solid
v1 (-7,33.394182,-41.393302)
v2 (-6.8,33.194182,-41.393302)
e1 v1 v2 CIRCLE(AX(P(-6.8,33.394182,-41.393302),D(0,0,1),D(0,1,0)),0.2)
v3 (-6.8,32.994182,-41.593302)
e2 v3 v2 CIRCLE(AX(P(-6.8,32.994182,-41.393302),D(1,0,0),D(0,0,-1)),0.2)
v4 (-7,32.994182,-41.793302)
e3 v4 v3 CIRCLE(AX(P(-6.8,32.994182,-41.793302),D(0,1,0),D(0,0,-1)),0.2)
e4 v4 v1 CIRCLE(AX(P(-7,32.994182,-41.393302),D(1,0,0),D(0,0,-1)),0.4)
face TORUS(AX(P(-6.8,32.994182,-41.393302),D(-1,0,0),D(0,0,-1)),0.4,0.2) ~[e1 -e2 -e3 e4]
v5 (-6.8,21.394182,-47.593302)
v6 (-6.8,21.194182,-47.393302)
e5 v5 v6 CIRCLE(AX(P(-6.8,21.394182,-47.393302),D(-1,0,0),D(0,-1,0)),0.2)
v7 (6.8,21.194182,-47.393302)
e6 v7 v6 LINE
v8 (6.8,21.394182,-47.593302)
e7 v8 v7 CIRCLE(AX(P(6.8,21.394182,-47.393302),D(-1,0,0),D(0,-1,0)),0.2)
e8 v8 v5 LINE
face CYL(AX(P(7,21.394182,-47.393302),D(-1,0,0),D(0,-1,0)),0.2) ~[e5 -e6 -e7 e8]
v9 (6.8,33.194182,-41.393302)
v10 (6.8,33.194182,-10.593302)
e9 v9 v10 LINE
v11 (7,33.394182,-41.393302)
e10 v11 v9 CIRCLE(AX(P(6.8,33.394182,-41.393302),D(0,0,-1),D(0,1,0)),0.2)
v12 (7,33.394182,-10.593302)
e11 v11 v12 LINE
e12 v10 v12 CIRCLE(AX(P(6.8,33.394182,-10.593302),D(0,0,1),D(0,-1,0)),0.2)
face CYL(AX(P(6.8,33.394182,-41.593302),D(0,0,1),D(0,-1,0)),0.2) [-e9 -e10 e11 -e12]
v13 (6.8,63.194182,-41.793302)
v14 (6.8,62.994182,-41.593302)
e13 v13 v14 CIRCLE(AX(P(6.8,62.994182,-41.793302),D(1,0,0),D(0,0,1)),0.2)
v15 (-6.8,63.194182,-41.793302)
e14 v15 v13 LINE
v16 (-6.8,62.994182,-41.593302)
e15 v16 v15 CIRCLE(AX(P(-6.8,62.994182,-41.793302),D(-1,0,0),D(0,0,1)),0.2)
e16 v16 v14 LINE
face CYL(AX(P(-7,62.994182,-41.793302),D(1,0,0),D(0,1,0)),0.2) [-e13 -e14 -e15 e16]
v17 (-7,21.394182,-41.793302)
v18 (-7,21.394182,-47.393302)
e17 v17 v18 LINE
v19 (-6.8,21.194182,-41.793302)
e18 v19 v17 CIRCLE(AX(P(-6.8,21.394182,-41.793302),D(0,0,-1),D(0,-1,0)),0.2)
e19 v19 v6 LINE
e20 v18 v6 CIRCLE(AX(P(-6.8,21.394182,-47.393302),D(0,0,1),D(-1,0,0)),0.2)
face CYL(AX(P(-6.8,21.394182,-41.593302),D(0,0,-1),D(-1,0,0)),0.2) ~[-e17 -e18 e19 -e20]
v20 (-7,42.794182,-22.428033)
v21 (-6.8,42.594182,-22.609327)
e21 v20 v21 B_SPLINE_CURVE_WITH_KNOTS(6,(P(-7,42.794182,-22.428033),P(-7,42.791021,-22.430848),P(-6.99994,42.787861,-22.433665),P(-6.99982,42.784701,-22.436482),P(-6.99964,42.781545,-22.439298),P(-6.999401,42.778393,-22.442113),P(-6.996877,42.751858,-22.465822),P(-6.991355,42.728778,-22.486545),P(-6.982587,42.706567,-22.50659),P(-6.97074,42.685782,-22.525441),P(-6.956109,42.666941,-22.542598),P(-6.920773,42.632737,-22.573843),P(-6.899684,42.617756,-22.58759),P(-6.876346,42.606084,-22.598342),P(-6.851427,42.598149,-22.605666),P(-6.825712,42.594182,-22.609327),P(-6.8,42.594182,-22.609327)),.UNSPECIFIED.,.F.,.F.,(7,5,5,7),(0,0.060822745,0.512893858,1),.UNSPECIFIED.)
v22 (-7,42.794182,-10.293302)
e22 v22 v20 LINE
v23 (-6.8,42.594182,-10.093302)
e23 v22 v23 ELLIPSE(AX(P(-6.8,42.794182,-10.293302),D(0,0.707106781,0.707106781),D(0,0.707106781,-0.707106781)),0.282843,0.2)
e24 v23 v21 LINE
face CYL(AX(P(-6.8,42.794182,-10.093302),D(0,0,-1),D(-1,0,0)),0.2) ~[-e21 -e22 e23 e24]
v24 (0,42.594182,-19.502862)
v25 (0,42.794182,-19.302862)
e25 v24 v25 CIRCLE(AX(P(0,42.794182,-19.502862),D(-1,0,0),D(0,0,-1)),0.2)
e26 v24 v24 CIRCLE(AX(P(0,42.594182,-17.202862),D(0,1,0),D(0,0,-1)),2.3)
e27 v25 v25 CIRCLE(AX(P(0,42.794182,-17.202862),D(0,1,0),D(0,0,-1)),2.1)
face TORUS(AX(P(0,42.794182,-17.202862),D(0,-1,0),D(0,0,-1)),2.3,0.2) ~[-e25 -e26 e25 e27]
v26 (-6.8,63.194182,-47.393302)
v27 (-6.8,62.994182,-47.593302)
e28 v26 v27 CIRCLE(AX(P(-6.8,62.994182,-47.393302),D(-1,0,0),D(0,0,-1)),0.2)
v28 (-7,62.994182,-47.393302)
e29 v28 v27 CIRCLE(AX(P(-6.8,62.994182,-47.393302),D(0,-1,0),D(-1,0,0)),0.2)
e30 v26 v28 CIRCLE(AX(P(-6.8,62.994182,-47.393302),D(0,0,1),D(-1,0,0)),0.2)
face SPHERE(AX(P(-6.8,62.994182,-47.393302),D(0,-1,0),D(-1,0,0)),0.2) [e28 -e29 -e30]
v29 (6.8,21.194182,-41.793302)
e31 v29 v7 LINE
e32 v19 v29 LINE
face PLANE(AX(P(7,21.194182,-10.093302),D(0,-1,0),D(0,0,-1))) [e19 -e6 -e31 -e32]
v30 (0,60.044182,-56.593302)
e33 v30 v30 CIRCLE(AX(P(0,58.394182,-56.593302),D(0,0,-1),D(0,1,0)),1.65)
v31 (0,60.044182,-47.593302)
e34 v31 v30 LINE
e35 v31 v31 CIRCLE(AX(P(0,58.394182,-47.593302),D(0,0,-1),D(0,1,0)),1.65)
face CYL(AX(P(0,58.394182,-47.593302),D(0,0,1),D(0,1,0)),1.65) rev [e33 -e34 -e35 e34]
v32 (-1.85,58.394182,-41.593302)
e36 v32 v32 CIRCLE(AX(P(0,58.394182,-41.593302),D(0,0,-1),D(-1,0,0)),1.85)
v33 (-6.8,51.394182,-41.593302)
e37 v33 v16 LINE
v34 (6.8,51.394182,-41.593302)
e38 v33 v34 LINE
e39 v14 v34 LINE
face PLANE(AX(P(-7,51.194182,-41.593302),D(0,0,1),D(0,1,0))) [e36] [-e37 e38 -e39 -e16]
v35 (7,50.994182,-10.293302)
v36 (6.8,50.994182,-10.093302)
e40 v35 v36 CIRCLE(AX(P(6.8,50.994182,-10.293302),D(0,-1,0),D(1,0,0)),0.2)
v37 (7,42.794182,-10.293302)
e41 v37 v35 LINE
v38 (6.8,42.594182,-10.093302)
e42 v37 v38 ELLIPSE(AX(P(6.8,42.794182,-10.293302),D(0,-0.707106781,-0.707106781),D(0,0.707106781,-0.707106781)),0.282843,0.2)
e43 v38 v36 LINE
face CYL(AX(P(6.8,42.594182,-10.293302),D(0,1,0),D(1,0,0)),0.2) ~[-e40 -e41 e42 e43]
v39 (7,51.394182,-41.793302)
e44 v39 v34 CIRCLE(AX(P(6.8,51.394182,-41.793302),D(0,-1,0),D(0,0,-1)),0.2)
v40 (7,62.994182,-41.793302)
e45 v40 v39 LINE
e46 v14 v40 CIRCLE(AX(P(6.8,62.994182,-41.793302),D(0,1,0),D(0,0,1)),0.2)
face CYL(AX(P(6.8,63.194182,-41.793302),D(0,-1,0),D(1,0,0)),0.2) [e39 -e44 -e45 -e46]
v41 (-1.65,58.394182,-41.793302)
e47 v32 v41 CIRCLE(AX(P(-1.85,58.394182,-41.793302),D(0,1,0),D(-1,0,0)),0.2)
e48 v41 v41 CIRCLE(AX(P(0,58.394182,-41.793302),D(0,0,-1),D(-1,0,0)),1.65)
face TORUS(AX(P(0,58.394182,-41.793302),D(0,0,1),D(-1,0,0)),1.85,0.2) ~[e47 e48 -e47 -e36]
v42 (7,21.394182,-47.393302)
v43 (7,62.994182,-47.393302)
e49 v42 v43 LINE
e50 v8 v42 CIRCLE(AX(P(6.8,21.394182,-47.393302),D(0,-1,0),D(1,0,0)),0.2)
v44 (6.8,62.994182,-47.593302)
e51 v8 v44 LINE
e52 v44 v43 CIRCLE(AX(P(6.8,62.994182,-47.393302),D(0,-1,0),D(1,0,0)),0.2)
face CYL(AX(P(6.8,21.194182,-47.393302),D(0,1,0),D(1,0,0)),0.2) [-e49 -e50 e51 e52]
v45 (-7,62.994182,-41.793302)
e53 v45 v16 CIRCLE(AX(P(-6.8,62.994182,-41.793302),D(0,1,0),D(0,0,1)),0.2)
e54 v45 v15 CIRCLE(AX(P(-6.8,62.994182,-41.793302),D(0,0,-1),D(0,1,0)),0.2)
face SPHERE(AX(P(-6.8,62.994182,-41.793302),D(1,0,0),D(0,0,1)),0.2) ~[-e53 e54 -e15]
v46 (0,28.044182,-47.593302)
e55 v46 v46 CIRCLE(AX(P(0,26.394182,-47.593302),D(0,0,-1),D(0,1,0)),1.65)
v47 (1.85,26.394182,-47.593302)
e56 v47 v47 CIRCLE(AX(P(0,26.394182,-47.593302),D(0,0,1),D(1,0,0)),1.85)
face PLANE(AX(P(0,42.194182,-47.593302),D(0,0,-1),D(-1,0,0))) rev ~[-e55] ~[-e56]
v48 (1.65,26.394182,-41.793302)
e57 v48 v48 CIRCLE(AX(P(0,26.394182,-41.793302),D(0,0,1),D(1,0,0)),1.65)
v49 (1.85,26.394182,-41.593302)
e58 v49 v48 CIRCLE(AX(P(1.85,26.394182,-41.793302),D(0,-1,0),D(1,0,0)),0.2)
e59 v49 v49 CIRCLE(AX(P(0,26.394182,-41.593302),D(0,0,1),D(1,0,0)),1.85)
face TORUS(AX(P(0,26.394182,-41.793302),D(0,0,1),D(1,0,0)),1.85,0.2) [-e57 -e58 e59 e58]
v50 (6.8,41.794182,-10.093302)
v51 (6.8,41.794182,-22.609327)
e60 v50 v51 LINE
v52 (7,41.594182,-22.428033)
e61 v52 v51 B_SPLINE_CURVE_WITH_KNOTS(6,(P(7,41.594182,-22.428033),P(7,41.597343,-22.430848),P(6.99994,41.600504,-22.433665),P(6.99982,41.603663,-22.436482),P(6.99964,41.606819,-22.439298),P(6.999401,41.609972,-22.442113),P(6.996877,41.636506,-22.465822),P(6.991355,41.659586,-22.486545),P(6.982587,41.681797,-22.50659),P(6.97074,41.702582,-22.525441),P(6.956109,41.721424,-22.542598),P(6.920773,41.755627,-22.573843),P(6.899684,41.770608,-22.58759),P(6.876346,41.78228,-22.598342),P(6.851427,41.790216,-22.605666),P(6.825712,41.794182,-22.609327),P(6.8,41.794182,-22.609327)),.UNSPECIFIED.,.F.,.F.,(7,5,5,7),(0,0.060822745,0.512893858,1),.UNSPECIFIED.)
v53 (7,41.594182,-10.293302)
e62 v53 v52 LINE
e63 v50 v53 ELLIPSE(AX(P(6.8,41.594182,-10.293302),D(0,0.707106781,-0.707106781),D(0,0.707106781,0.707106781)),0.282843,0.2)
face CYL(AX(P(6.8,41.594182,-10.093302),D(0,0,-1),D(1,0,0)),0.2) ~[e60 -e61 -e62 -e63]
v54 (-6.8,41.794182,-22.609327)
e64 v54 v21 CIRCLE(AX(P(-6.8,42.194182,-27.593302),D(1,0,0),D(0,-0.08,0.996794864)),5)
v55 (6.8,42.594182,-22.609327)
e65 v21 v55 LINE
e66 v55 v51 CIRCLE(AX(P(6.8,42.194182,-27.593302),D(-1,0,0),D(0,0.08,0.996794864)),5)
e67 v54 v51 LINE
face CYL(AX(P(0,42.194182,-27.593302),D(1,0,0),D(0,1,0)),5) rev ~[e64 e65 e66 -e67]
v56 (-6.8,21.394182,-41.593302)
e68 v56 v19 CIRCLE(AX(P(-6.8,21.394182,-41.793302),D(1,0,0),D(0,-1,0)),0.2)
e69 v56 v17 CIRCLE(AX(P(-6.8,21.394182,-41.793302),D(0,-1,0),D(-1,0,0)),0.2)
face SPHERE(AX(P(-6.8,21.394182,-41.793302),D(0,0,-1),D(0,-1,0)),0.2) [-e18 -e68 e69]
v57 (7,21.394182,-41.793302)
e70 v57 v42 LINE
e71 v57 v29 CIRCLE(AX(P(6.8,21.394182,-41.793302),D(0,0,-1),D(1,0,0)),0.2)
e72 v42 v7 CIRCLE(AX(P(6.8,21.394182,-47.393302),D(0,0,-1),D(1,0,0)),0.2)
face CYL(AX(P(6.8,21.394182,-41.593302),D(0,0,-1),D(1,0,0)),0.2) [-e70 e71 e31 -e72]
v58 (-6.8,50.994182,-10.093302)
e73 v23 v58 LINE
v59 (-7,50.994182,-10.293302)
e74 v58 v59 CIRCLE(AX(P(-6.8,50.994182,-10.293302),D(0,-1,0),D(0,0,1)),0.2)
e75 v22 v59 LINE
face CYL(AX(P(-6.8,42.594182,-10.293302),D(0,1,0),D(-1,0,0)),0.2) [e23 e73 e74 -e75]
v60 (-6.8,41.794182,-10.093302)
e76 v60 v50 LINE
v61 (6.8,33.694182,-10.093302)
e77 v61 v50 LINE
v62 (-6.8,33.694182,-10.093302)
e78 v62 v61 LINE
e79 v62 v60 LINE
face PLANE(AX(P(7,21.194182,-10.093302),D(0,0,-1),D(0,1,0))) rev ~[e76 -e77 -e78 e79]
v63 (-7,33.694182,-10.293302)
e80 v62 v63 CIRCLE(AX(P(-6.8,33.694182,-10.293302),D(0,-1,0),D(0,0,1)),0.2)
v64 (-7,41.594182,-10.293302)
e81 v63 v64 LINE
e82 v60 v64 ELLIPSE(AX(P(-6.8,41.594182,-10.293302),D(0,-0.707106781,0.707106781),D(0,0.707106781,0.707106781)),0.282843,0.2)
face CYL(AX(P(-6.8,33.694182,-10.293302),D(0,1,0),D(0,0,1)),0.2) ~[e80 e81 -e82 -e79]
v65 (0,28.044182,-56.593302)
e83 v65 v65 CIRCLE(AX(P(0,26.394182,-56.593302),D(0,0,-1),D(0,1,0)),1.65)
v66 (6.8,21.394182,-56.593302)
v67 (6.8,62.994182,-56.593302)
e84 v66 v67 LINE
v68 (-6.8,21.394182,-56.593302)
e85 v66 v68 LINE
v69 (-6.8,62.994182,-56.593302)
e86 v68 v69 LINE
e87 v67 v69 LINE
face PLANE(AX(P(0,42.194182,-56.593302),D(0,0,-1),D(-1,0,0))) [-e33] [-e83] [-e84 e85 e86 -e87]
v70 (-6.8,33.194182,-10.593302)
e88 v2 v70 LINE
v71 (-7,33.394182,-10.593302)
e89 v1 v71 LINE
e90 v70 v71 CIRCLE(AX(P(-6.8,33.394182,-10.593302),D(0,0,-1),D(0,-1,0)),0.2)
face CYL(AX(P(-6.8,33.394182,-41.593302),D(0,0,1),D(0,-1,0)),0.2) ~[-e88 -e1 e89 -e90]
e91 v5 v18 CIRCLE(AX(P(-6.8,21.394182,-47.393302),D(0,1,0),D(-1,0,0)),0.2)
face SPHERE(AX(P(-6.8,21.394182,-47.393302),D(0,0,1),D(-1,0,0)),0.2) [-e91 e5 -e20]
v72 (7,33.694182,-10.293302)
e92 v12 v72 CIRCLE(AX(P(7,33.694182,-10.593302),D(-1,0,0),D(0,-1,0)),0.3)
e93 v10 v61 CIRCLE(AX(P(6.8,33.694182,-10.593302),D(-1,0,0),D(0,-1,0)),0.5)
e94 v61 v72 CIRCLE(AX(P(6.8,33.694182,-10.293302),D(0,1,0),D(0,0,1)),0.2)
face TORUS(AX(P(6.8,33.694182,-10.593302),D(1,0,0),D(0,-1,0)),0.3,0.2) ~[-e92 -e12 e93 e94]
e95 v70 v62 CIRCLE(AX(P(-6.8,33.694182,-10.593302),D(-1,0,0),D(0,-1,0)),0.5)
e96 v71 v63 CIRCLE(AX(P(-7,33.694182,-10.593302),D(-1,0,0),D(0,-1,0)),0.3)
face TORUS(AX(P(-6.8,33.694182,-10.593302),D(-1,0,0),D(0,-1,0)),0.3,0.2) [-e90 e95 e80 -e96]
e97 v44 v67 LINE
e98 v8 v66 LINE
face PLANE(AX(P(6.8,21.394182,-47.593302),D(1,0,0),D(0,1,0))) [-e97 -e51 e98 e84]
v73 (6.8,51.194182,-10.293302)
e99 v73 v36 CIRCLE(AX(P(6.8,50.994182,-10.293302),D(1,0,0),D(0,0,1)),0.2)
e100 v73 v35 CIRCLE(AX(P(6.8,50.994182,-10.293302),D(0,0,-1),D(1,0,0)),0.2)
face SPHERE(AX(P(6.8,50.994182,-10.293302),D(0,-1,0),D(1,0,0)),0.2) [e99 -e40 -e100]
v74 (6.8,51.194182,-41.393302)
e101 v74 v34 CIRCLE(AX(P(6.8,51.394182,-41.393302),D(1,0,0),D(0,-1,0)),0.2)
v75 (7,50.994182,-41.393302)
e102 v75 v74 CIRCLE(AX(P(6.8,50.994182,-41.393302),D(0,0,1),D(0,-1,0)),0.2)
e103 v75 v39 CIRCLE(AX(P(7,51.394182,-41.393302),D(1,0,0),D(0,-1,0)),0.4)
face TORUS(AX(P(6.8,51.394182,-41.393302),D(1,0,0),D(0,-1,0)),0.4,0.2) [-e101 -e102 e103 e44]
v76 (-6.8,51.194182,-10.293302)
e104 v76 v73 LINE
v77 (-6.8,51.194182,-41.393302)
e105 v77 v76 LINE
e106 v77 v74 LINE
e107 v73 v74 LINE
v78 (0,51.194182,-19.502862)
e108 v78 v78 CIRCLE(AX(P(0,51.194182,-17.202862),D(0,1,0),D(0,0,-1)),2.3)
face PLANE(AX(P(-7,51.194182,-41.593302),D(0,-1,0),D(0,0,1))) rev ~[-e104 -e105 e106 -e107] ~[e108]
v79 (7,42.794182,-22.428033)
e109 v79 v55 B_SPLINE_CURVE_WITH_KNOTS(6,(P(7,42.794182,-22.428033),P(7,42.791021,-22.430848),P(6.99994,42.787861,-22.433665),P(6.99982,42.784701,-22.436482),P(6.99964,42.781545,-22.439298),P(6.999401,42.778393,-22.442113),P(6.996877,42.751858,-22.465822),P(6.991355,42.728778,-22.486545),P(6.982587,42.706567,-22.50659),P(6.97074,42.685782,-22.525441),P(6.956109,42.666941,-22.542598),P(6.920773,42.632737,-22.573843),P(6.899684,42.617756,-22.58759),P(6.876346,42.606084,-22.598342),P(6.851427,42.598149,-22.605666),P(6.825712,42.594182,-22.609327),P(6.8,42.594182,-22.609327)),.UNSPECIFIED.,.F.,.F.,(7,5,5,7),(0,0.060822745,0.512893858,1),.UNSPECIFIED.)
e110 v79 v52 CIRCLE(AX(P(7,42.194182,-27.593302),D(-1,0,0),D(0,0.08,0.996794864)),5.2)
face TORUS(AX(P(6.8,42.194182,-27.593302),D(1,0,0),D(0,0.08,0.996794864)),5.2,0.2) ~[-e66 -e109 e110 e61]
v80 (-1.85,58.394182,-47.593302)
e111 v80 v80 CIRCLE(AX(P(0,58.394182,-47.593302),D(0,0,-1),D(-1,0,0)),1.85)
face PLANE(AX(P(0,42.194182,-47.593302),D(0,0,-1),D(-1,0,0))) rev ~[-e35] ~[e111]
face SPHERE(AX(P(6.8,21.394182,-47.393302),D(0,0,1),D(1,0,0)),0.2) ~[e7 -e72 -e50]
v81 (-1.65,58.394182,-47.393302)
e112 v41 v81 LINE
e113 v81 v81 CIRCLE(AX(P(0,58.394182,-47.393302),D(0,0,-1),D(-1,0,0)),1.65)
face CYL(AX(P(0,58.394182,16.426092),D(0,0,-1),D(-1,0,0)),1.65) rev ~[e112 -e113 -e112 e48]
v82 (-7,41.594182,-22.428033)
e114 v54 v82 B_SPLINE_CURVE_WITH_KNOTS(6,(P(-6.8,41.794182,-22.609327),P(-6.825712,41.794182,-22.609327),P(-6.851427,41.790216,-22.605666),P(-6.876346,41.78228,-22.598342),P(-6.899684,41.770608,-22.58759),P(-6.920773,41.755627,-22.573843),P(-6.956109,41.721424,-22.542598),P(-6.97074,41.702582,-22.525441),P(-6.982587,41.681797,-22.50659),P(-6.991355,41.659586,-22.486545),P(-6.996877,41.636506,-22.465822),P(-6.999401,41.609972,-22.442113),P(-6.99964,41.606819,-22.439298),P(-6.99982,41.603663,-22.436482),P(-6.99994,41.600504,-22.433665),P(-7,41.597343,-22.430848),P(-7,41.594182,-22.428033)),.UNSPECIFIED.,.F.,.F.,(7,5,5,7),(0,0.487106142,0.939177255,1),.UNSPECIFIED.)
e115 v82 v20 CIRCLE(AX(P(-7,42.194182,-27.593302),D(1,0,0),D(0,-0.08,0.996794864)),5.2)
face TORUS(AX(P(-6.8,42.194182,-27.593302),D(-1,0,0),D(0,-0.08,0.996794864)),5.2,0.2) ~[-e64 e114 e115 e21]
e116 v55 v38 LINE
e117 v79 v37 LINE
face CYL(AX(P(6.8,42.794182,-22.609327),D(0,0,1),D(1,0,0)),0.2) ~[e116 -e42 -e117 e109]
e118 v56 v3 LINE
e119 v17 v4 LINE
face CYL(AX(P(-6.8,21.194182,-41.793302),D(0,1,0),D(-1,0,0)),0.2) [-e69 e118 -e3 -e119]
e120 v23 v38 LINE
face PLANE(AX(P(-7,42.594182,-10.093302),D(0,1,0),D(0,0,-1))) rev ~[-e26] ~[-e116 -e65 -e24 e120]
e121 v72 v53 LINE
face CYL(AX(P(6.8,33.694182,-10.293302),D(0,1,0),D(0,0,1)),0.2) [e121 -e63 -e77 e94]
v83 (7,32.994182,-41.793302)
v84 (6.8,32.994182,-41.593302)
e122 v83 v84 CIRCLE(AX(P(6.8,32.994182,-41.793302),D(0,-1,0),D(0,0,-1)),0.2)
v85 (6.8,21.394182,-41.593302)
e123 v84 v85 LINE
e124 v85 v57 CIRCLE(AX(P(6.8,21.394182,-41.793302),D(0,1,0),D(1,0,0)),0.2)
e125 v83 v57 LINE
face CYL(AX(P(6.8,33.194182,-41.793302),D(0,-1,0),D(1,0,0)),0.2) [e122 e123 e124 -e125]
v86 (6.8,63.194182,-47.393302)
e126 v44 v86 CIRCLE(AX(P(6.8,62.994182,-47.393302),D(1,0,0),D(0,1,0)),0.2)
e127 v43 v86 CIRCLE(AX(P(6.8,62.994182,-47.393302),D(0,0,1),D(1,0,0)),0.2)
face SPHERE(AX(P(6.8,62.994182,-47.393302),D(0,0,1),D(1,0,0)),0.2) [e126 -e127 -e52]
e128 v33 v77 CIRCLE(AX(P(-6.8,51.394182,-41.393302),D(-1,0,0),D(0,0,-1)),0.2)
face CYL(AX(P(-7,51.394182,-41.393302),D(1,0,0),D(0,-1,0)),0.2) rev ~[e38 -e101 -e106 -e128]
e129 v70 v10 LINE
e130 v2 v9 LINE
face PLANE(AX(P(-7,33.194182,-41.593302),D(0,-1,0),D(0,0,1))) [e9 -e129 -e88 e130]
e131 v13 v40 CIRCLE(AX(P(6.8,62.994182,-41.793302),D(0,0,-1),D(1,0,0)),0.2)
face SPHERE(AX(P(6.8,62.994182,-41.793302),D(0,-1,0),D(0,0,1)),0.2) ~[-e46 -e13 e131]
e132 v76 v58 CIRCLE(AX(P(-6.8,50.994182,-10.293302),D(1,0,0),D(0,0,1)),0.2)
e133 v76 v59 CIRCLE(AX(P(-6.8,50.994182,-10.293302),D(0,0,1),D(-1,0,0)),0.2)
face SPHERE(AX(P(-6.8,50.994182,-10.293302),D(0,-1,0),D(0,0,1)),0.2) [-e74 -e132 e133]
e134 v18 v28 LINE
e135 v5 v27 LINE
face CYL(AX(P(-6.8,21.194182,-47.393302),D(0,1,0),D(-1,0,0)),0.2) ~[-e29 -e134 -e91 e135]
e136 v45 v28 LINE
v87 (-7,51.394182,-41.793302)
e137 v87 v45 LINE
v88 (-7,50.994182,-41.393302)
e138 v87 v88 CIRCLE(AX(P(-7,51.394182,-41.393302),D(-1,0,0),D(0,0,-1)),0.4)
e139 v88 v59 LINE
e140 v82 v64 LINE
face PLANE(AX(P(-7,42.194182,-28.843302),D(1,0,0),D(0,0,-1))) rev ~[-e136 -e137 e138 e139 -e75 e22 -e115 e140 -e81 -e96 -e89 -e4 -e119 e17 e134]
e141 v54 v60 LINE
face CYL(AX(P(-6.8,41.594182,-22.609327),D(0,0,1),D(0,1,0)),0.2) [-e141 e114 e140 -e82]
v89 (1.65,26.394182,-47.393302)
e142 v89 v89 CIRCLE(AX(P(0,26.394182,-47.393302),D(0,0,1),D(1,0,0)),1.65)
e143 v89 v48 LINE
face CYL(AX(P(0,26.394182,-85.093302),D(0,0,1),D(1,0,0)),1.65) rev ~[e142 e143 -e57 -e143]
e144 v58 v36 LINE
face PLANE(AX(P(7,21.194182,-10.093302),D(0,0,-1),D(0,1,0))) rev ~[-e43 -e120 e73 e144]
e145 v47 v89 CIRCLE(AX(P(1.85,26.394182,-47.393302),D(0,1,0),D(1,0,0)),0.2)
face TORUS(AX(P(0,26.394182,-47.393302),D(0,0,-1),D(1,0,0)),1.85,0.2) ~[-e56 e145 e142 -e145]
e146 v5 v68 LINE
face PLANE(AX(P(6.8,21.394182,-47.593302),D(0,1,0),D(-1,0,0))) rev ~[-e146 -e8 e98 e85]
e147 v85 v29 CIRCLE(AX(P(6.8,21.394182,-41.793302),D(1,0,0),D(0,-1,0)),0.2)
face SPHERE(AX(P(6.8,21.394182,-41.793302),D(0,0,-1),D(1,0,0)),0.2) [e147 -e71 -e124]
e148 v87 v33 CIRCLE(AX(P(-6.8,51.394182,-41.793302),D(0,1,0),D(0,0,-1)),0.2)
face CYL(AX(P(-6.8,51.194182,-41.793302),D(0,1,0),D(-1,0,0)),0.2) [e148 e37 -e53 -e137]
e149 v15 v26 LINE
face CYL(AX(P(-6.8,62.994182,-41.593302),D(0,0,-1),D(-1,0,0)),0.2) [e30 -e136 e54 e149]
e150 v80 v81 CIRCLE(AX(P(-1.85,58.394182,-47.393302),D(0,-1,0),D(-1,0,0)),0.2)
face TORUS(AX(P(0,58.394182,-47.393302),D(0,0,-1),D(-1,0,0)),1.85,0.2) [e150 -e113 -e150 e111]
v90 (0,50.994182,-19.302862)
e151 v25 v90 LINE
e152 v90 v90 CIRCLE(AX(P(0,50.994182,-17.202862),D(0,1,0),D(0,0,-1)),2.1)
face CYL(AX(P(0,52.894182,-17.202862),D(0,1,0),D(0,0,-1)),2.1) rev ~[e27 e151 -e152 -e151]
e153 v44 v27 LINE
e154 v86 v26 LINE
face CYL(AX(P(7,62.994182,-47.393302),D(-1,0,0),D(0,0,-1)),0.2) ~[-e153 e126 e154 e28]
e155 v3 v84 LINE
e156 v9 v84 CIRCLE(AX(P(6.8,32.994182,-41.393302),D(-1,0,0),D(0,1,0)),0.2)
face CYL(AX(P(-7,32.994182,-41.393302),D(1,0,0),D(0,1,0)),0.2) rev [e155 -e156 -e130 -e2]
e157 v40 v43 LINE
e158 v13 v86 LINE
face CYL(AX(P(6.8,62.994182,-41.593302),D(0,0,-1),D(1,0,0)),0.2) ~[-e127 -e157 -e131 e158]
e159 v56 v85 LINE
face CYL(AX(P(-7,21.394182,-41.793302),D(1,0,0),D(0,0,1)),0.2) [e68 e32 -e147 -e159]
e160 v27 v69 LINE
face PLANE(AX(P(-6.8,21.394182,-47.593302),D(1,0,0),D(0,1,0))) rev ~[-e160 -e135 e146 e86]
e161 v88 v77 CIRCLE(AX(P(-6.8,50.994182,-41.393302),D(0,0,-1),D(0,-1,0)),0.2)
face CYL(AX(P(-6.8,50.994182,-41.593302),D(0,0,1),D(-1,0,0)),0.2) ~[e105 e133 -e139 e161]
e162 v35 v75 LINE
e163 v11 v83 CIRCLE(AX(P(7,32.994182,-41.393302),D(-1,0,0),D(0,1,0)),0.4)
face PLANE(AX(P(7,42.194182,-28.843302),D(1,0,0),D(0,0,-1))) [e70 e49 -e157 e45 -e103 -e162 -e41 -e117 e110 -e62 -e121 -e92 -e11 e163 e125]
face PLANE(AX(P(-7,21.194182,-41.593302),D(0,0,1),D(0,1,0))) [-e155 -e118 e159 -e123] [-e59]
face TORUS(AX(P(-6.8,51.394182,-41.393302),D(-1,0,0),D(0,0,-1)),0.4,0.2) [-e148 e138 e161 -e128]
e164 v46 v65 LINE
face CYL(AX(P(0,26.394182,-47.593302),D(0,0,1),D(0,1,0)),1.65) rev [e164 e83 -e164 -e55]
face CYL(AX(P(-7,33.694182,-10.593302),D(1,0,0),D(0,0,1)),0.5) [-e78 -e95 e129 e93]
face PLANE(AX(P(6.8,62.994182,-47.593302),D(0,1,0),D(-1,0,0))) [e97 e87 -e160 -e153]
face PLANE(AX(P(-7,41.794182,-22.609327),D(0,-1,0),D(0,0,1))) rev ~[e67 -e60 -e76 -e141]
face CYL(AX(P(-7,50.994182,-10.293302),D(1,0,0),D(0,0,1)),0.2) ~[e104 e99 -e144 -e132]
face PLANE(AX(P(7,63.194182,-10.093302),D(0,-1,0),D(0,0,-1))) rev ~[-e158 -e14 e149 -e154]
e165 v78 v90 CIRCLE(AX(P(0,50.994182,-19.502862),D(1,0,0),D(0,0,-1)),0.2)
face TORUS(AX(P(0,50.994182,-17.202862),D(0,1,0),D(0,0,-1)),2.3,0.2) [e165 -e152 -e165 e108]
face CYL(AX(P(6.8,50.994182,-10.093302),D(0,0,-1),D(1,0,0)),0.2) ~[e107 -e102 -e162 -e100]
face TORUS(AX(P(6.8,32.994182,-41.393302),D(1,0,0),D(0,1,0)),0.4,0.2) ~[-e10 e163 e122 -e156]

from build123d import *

# Parameters (mm, degrees)
SKETCH1_W                      = 37.5
SKETCH1_H                      = 42
BOSS_EXTRUDE1_DEPTH            = 14
SKETCH2_W                      = 31.5
SKETCH2_H                      = 12
CUT_EXTRUDE1_DEPTH             = 81.340693322
SKETCH3_W                      = 31.5
SKETCH3_H                      = 12
CUT_EXTRUDE2_DEPTH             = 81.340693322
CUT_EXTRUDE3_DEPTH             = 81.340693322
SKETCH5_W                      = 14
SKETCH5_H                      = 5
SKETCH6_W                      = 2.1
SKETCH6_H                      = 20.6
F_3_3_3_3_DIAMETER_HOLE1_D     = 3.3
F_3_3_3_3_DIAMETER_HOLE1_DEPTH = 37.5
F_3_3_3_3_DIAMETER_HOLE2_D     = 3.3
FILLET1_R                      = 0.5
FILLET2_R                      = 0.2
SKETCH12_W                     = 13.6
SKETCH12_H                     = 41.6
SKETCH12_R                     = 1.65
BOSS_EXTRUDE2_DEPTH            = 9


with BuildPart() as part:
    # Sketch1 → Boss-Extrude1 (new body)
    with BuildSketch(Plane(origin=(7, 0, 0), x_dir=(0, 0, -1), z_dir=(1, 0, 0))):
        with Locations((28.843301609, 42.194182053)):
            Rectangle(SKETCH1_W, SKETCH1_H)
    extrude(amount=-BOSS_EXTRUDE1_DEPTH)

    # Sketch2 → Cut-Extrude1 (cut, through all)
    with BuildSketch(Plane.ZY.offset(7)):
        with Locations((-25.843301609, 27.194182053)):
            Rectangle(SKETCH2_W, SKETCH2_H)
    extrude(amount=-CUT_EXTRUDE1_DEPTH, mode=Mode.SUBTRACT)

    # Sketch3 → Cut-Extrude2 (cut, through all)
    with BuildSketch(Plane.ZY.offset(7)):
        with Locations((-25.843301609, 57.194182053)):
            Rectangle(SKETCH3_W, SKETCH3_H)
    extrude(amount=-CUT_EXTRUDE2_DEPTH, mode=Mode.SUBTRACT)

    # Sketch4 → Cut-Extrude3 (cut, through all)
    with BuildSketch(Plane.ZY.offset(7)):
        with BuildLine():
            Line((-10.093301609, 41.794182053), (-10.093301609, 42.594182053))
            Line((-10.093301609, 42.594182053), (-22.609327291, 42.594182053))
            ThreePointArc((-22.609327291, 42.594182053), (-22.593301609, 42.194182053), (-22.609327291, 41.794182053))
            Line((-22.609327291, 41.794182053), (-10.093301609, 41.794182053))
        make_face()
    extrude(amount=-CUT_EXTRUDE3_DEPTH, mode=Mode.SUBTRACT)

    # Sketch5 → Cut-Revolve1 (revolve, cut)
    with BuildSketch(Plane.XY.offset(-27.593301609)):
        with Locations((0, 44.694182053)):
            Rectangle(SKETCH5_W, SKETCH5_H)
    revolve(axis=Axis((-7, 42.194182053, -27.593301609), (1, 0, 0)), mode=Mode.SUBTRACT)

    # Sketch6 → Ø4.2 (4.2) Diameter Hole1 (revolve, cut)
    with BuildSketch(Plane(origin=(0, 42.594182053, -17.202861607), x_dir=(0, 0, -1), z_dir=(1, 0, 0))):
        with Locations((1.05, 10.3)):
            Rectangle(SKETCH6_W, SKETCH6_H)
    revolve(axis=Axis((0, 36.244182053, -17.202861607), (0, 1, 0)), mode=Mode.SUBTRACT)

    # Ø3.3 (3.3) Diameter Hole1
    with Locations(Plane(origin=(0, 0, -47.593301609), x_dir=(-1, 0, 0), z_dir=(0, 0, -1))):
        with Locations((0, 26.394182053)):
            Hole(F_3_3_3_3_DIAMETER_HOLE1_D / 2, depth=F_3_3_3_3_DIAMETER_HOLE1_DEPTH)

    # Ø3.3 (3.3) Diameter Hole2 (through all)
    with Locations(Plane.XY.offset(-41.593301609)):
        with Locations((0, 58.394182053)):
            Hole(F_3_3_3_3_DIAMETER_HOLE2_D / 2)

    # Fillet1
    fillet1_edges = [part.edges().sort_by_distance(p)[0] for p in [
        (0, 33.194182053, -10.093301609),
    ]]
    fillet(fillet1_edges, radius=FILLET1_R)

    # Fillet2
    fillet2_edges = [part.edges().sort_by_distance(p)[0] for p in [
        (7, 21.194182053, -44.593301609),
        (-7, 21.194182053, -44.593301609),
        (7, 27.194182053, -41.593301609),
        (0, 21.194182053, -41.593301609),
        (0, 33.194182053, -41.593301609),
        (-7, 27.194182053, -41.593301609),
        (7, 46.894182053, -10.093301609),
        (-7, 46.894182053, -10.093301609),
        (7, 51.194182053, -25.843301609),
        (0, 51.194182053, -10.093301609),
        (7, 57.194182053, -41.593301609),
        (0, 51.194182053, -41.593301609),
        (0, 63.194182053, -41.593301609),
        (-7, 57.194182053, -41.593301609),
        (-7, 51.194182053, -25.843301609),
        (-7, 42.194182053, -47.593301609),
        (7, 37.744182053, -10.093301609),
        (-7, 37.744182053, -10.093301609),
        (7, 41.794182053, -16.35131445),
        (7, 42.594182053, -16.35131445),
        (-7, 41.794182053, -16.35131445),
        (-7, 42.594182053, -16.35131445),
        (7, 63.194182053, -44.593301609),
        (7, 42.194182053, -47.593301609),
        (-7, 42.194182053, -32.593301609),
        (7, 42.194182053, -32.593301609),
        (0, 51.194182053, -15.102861607),
        (0, 42.594182053, -15.102861607),
        (-7, 63.194182053, -44.593301609),
        (-1.65, 26.394182053, -41.593301609),
        (-1.65, 26.394182053, -47.593301609),
        (0, 21.194182053, -47.593301609),
        (0, 63.194182053, -47.593301609),
        (1.65, 58.394182053, -41.593301609),
        (1.65, 58.394182053, -47.593301609),
        (-7, 33.194182053, -26.093301609),
        (7, 33.194182053, -26.093301609),
        (-7, 33.340628663, -10.239748219),
        (7, 33.340628663, -10.239748219),
    ]]
    fillet(fillet2_edges, radius=FILLET2_R)

    # Sketch12 → Boss-Extrude2 (add)
    with BuildSketch(Plane(origin=(0, 0, -47.593301609), x_dir=(-1, 0, 0), z_dir=(0, 0, -1))):
        with Locations((0, 42.194182053)):
            Rectangle(SKETCH12_W, SKETCH12_H)
        with Locations(Location((0, 26.394182053, 0), (0, 0, 90))):
            Circle(SKETCH12_R, mode=Mode.SUBTRACT)
        with Locations(Location((0, 58.394182053, 0), (0, 0, 90))):
            Circle(SKETCH12_R, mode=Mode.SUBTRACT)
    extrude(amount=BOSS_EXTRUDE2_DEPTH)


solid = part.part
